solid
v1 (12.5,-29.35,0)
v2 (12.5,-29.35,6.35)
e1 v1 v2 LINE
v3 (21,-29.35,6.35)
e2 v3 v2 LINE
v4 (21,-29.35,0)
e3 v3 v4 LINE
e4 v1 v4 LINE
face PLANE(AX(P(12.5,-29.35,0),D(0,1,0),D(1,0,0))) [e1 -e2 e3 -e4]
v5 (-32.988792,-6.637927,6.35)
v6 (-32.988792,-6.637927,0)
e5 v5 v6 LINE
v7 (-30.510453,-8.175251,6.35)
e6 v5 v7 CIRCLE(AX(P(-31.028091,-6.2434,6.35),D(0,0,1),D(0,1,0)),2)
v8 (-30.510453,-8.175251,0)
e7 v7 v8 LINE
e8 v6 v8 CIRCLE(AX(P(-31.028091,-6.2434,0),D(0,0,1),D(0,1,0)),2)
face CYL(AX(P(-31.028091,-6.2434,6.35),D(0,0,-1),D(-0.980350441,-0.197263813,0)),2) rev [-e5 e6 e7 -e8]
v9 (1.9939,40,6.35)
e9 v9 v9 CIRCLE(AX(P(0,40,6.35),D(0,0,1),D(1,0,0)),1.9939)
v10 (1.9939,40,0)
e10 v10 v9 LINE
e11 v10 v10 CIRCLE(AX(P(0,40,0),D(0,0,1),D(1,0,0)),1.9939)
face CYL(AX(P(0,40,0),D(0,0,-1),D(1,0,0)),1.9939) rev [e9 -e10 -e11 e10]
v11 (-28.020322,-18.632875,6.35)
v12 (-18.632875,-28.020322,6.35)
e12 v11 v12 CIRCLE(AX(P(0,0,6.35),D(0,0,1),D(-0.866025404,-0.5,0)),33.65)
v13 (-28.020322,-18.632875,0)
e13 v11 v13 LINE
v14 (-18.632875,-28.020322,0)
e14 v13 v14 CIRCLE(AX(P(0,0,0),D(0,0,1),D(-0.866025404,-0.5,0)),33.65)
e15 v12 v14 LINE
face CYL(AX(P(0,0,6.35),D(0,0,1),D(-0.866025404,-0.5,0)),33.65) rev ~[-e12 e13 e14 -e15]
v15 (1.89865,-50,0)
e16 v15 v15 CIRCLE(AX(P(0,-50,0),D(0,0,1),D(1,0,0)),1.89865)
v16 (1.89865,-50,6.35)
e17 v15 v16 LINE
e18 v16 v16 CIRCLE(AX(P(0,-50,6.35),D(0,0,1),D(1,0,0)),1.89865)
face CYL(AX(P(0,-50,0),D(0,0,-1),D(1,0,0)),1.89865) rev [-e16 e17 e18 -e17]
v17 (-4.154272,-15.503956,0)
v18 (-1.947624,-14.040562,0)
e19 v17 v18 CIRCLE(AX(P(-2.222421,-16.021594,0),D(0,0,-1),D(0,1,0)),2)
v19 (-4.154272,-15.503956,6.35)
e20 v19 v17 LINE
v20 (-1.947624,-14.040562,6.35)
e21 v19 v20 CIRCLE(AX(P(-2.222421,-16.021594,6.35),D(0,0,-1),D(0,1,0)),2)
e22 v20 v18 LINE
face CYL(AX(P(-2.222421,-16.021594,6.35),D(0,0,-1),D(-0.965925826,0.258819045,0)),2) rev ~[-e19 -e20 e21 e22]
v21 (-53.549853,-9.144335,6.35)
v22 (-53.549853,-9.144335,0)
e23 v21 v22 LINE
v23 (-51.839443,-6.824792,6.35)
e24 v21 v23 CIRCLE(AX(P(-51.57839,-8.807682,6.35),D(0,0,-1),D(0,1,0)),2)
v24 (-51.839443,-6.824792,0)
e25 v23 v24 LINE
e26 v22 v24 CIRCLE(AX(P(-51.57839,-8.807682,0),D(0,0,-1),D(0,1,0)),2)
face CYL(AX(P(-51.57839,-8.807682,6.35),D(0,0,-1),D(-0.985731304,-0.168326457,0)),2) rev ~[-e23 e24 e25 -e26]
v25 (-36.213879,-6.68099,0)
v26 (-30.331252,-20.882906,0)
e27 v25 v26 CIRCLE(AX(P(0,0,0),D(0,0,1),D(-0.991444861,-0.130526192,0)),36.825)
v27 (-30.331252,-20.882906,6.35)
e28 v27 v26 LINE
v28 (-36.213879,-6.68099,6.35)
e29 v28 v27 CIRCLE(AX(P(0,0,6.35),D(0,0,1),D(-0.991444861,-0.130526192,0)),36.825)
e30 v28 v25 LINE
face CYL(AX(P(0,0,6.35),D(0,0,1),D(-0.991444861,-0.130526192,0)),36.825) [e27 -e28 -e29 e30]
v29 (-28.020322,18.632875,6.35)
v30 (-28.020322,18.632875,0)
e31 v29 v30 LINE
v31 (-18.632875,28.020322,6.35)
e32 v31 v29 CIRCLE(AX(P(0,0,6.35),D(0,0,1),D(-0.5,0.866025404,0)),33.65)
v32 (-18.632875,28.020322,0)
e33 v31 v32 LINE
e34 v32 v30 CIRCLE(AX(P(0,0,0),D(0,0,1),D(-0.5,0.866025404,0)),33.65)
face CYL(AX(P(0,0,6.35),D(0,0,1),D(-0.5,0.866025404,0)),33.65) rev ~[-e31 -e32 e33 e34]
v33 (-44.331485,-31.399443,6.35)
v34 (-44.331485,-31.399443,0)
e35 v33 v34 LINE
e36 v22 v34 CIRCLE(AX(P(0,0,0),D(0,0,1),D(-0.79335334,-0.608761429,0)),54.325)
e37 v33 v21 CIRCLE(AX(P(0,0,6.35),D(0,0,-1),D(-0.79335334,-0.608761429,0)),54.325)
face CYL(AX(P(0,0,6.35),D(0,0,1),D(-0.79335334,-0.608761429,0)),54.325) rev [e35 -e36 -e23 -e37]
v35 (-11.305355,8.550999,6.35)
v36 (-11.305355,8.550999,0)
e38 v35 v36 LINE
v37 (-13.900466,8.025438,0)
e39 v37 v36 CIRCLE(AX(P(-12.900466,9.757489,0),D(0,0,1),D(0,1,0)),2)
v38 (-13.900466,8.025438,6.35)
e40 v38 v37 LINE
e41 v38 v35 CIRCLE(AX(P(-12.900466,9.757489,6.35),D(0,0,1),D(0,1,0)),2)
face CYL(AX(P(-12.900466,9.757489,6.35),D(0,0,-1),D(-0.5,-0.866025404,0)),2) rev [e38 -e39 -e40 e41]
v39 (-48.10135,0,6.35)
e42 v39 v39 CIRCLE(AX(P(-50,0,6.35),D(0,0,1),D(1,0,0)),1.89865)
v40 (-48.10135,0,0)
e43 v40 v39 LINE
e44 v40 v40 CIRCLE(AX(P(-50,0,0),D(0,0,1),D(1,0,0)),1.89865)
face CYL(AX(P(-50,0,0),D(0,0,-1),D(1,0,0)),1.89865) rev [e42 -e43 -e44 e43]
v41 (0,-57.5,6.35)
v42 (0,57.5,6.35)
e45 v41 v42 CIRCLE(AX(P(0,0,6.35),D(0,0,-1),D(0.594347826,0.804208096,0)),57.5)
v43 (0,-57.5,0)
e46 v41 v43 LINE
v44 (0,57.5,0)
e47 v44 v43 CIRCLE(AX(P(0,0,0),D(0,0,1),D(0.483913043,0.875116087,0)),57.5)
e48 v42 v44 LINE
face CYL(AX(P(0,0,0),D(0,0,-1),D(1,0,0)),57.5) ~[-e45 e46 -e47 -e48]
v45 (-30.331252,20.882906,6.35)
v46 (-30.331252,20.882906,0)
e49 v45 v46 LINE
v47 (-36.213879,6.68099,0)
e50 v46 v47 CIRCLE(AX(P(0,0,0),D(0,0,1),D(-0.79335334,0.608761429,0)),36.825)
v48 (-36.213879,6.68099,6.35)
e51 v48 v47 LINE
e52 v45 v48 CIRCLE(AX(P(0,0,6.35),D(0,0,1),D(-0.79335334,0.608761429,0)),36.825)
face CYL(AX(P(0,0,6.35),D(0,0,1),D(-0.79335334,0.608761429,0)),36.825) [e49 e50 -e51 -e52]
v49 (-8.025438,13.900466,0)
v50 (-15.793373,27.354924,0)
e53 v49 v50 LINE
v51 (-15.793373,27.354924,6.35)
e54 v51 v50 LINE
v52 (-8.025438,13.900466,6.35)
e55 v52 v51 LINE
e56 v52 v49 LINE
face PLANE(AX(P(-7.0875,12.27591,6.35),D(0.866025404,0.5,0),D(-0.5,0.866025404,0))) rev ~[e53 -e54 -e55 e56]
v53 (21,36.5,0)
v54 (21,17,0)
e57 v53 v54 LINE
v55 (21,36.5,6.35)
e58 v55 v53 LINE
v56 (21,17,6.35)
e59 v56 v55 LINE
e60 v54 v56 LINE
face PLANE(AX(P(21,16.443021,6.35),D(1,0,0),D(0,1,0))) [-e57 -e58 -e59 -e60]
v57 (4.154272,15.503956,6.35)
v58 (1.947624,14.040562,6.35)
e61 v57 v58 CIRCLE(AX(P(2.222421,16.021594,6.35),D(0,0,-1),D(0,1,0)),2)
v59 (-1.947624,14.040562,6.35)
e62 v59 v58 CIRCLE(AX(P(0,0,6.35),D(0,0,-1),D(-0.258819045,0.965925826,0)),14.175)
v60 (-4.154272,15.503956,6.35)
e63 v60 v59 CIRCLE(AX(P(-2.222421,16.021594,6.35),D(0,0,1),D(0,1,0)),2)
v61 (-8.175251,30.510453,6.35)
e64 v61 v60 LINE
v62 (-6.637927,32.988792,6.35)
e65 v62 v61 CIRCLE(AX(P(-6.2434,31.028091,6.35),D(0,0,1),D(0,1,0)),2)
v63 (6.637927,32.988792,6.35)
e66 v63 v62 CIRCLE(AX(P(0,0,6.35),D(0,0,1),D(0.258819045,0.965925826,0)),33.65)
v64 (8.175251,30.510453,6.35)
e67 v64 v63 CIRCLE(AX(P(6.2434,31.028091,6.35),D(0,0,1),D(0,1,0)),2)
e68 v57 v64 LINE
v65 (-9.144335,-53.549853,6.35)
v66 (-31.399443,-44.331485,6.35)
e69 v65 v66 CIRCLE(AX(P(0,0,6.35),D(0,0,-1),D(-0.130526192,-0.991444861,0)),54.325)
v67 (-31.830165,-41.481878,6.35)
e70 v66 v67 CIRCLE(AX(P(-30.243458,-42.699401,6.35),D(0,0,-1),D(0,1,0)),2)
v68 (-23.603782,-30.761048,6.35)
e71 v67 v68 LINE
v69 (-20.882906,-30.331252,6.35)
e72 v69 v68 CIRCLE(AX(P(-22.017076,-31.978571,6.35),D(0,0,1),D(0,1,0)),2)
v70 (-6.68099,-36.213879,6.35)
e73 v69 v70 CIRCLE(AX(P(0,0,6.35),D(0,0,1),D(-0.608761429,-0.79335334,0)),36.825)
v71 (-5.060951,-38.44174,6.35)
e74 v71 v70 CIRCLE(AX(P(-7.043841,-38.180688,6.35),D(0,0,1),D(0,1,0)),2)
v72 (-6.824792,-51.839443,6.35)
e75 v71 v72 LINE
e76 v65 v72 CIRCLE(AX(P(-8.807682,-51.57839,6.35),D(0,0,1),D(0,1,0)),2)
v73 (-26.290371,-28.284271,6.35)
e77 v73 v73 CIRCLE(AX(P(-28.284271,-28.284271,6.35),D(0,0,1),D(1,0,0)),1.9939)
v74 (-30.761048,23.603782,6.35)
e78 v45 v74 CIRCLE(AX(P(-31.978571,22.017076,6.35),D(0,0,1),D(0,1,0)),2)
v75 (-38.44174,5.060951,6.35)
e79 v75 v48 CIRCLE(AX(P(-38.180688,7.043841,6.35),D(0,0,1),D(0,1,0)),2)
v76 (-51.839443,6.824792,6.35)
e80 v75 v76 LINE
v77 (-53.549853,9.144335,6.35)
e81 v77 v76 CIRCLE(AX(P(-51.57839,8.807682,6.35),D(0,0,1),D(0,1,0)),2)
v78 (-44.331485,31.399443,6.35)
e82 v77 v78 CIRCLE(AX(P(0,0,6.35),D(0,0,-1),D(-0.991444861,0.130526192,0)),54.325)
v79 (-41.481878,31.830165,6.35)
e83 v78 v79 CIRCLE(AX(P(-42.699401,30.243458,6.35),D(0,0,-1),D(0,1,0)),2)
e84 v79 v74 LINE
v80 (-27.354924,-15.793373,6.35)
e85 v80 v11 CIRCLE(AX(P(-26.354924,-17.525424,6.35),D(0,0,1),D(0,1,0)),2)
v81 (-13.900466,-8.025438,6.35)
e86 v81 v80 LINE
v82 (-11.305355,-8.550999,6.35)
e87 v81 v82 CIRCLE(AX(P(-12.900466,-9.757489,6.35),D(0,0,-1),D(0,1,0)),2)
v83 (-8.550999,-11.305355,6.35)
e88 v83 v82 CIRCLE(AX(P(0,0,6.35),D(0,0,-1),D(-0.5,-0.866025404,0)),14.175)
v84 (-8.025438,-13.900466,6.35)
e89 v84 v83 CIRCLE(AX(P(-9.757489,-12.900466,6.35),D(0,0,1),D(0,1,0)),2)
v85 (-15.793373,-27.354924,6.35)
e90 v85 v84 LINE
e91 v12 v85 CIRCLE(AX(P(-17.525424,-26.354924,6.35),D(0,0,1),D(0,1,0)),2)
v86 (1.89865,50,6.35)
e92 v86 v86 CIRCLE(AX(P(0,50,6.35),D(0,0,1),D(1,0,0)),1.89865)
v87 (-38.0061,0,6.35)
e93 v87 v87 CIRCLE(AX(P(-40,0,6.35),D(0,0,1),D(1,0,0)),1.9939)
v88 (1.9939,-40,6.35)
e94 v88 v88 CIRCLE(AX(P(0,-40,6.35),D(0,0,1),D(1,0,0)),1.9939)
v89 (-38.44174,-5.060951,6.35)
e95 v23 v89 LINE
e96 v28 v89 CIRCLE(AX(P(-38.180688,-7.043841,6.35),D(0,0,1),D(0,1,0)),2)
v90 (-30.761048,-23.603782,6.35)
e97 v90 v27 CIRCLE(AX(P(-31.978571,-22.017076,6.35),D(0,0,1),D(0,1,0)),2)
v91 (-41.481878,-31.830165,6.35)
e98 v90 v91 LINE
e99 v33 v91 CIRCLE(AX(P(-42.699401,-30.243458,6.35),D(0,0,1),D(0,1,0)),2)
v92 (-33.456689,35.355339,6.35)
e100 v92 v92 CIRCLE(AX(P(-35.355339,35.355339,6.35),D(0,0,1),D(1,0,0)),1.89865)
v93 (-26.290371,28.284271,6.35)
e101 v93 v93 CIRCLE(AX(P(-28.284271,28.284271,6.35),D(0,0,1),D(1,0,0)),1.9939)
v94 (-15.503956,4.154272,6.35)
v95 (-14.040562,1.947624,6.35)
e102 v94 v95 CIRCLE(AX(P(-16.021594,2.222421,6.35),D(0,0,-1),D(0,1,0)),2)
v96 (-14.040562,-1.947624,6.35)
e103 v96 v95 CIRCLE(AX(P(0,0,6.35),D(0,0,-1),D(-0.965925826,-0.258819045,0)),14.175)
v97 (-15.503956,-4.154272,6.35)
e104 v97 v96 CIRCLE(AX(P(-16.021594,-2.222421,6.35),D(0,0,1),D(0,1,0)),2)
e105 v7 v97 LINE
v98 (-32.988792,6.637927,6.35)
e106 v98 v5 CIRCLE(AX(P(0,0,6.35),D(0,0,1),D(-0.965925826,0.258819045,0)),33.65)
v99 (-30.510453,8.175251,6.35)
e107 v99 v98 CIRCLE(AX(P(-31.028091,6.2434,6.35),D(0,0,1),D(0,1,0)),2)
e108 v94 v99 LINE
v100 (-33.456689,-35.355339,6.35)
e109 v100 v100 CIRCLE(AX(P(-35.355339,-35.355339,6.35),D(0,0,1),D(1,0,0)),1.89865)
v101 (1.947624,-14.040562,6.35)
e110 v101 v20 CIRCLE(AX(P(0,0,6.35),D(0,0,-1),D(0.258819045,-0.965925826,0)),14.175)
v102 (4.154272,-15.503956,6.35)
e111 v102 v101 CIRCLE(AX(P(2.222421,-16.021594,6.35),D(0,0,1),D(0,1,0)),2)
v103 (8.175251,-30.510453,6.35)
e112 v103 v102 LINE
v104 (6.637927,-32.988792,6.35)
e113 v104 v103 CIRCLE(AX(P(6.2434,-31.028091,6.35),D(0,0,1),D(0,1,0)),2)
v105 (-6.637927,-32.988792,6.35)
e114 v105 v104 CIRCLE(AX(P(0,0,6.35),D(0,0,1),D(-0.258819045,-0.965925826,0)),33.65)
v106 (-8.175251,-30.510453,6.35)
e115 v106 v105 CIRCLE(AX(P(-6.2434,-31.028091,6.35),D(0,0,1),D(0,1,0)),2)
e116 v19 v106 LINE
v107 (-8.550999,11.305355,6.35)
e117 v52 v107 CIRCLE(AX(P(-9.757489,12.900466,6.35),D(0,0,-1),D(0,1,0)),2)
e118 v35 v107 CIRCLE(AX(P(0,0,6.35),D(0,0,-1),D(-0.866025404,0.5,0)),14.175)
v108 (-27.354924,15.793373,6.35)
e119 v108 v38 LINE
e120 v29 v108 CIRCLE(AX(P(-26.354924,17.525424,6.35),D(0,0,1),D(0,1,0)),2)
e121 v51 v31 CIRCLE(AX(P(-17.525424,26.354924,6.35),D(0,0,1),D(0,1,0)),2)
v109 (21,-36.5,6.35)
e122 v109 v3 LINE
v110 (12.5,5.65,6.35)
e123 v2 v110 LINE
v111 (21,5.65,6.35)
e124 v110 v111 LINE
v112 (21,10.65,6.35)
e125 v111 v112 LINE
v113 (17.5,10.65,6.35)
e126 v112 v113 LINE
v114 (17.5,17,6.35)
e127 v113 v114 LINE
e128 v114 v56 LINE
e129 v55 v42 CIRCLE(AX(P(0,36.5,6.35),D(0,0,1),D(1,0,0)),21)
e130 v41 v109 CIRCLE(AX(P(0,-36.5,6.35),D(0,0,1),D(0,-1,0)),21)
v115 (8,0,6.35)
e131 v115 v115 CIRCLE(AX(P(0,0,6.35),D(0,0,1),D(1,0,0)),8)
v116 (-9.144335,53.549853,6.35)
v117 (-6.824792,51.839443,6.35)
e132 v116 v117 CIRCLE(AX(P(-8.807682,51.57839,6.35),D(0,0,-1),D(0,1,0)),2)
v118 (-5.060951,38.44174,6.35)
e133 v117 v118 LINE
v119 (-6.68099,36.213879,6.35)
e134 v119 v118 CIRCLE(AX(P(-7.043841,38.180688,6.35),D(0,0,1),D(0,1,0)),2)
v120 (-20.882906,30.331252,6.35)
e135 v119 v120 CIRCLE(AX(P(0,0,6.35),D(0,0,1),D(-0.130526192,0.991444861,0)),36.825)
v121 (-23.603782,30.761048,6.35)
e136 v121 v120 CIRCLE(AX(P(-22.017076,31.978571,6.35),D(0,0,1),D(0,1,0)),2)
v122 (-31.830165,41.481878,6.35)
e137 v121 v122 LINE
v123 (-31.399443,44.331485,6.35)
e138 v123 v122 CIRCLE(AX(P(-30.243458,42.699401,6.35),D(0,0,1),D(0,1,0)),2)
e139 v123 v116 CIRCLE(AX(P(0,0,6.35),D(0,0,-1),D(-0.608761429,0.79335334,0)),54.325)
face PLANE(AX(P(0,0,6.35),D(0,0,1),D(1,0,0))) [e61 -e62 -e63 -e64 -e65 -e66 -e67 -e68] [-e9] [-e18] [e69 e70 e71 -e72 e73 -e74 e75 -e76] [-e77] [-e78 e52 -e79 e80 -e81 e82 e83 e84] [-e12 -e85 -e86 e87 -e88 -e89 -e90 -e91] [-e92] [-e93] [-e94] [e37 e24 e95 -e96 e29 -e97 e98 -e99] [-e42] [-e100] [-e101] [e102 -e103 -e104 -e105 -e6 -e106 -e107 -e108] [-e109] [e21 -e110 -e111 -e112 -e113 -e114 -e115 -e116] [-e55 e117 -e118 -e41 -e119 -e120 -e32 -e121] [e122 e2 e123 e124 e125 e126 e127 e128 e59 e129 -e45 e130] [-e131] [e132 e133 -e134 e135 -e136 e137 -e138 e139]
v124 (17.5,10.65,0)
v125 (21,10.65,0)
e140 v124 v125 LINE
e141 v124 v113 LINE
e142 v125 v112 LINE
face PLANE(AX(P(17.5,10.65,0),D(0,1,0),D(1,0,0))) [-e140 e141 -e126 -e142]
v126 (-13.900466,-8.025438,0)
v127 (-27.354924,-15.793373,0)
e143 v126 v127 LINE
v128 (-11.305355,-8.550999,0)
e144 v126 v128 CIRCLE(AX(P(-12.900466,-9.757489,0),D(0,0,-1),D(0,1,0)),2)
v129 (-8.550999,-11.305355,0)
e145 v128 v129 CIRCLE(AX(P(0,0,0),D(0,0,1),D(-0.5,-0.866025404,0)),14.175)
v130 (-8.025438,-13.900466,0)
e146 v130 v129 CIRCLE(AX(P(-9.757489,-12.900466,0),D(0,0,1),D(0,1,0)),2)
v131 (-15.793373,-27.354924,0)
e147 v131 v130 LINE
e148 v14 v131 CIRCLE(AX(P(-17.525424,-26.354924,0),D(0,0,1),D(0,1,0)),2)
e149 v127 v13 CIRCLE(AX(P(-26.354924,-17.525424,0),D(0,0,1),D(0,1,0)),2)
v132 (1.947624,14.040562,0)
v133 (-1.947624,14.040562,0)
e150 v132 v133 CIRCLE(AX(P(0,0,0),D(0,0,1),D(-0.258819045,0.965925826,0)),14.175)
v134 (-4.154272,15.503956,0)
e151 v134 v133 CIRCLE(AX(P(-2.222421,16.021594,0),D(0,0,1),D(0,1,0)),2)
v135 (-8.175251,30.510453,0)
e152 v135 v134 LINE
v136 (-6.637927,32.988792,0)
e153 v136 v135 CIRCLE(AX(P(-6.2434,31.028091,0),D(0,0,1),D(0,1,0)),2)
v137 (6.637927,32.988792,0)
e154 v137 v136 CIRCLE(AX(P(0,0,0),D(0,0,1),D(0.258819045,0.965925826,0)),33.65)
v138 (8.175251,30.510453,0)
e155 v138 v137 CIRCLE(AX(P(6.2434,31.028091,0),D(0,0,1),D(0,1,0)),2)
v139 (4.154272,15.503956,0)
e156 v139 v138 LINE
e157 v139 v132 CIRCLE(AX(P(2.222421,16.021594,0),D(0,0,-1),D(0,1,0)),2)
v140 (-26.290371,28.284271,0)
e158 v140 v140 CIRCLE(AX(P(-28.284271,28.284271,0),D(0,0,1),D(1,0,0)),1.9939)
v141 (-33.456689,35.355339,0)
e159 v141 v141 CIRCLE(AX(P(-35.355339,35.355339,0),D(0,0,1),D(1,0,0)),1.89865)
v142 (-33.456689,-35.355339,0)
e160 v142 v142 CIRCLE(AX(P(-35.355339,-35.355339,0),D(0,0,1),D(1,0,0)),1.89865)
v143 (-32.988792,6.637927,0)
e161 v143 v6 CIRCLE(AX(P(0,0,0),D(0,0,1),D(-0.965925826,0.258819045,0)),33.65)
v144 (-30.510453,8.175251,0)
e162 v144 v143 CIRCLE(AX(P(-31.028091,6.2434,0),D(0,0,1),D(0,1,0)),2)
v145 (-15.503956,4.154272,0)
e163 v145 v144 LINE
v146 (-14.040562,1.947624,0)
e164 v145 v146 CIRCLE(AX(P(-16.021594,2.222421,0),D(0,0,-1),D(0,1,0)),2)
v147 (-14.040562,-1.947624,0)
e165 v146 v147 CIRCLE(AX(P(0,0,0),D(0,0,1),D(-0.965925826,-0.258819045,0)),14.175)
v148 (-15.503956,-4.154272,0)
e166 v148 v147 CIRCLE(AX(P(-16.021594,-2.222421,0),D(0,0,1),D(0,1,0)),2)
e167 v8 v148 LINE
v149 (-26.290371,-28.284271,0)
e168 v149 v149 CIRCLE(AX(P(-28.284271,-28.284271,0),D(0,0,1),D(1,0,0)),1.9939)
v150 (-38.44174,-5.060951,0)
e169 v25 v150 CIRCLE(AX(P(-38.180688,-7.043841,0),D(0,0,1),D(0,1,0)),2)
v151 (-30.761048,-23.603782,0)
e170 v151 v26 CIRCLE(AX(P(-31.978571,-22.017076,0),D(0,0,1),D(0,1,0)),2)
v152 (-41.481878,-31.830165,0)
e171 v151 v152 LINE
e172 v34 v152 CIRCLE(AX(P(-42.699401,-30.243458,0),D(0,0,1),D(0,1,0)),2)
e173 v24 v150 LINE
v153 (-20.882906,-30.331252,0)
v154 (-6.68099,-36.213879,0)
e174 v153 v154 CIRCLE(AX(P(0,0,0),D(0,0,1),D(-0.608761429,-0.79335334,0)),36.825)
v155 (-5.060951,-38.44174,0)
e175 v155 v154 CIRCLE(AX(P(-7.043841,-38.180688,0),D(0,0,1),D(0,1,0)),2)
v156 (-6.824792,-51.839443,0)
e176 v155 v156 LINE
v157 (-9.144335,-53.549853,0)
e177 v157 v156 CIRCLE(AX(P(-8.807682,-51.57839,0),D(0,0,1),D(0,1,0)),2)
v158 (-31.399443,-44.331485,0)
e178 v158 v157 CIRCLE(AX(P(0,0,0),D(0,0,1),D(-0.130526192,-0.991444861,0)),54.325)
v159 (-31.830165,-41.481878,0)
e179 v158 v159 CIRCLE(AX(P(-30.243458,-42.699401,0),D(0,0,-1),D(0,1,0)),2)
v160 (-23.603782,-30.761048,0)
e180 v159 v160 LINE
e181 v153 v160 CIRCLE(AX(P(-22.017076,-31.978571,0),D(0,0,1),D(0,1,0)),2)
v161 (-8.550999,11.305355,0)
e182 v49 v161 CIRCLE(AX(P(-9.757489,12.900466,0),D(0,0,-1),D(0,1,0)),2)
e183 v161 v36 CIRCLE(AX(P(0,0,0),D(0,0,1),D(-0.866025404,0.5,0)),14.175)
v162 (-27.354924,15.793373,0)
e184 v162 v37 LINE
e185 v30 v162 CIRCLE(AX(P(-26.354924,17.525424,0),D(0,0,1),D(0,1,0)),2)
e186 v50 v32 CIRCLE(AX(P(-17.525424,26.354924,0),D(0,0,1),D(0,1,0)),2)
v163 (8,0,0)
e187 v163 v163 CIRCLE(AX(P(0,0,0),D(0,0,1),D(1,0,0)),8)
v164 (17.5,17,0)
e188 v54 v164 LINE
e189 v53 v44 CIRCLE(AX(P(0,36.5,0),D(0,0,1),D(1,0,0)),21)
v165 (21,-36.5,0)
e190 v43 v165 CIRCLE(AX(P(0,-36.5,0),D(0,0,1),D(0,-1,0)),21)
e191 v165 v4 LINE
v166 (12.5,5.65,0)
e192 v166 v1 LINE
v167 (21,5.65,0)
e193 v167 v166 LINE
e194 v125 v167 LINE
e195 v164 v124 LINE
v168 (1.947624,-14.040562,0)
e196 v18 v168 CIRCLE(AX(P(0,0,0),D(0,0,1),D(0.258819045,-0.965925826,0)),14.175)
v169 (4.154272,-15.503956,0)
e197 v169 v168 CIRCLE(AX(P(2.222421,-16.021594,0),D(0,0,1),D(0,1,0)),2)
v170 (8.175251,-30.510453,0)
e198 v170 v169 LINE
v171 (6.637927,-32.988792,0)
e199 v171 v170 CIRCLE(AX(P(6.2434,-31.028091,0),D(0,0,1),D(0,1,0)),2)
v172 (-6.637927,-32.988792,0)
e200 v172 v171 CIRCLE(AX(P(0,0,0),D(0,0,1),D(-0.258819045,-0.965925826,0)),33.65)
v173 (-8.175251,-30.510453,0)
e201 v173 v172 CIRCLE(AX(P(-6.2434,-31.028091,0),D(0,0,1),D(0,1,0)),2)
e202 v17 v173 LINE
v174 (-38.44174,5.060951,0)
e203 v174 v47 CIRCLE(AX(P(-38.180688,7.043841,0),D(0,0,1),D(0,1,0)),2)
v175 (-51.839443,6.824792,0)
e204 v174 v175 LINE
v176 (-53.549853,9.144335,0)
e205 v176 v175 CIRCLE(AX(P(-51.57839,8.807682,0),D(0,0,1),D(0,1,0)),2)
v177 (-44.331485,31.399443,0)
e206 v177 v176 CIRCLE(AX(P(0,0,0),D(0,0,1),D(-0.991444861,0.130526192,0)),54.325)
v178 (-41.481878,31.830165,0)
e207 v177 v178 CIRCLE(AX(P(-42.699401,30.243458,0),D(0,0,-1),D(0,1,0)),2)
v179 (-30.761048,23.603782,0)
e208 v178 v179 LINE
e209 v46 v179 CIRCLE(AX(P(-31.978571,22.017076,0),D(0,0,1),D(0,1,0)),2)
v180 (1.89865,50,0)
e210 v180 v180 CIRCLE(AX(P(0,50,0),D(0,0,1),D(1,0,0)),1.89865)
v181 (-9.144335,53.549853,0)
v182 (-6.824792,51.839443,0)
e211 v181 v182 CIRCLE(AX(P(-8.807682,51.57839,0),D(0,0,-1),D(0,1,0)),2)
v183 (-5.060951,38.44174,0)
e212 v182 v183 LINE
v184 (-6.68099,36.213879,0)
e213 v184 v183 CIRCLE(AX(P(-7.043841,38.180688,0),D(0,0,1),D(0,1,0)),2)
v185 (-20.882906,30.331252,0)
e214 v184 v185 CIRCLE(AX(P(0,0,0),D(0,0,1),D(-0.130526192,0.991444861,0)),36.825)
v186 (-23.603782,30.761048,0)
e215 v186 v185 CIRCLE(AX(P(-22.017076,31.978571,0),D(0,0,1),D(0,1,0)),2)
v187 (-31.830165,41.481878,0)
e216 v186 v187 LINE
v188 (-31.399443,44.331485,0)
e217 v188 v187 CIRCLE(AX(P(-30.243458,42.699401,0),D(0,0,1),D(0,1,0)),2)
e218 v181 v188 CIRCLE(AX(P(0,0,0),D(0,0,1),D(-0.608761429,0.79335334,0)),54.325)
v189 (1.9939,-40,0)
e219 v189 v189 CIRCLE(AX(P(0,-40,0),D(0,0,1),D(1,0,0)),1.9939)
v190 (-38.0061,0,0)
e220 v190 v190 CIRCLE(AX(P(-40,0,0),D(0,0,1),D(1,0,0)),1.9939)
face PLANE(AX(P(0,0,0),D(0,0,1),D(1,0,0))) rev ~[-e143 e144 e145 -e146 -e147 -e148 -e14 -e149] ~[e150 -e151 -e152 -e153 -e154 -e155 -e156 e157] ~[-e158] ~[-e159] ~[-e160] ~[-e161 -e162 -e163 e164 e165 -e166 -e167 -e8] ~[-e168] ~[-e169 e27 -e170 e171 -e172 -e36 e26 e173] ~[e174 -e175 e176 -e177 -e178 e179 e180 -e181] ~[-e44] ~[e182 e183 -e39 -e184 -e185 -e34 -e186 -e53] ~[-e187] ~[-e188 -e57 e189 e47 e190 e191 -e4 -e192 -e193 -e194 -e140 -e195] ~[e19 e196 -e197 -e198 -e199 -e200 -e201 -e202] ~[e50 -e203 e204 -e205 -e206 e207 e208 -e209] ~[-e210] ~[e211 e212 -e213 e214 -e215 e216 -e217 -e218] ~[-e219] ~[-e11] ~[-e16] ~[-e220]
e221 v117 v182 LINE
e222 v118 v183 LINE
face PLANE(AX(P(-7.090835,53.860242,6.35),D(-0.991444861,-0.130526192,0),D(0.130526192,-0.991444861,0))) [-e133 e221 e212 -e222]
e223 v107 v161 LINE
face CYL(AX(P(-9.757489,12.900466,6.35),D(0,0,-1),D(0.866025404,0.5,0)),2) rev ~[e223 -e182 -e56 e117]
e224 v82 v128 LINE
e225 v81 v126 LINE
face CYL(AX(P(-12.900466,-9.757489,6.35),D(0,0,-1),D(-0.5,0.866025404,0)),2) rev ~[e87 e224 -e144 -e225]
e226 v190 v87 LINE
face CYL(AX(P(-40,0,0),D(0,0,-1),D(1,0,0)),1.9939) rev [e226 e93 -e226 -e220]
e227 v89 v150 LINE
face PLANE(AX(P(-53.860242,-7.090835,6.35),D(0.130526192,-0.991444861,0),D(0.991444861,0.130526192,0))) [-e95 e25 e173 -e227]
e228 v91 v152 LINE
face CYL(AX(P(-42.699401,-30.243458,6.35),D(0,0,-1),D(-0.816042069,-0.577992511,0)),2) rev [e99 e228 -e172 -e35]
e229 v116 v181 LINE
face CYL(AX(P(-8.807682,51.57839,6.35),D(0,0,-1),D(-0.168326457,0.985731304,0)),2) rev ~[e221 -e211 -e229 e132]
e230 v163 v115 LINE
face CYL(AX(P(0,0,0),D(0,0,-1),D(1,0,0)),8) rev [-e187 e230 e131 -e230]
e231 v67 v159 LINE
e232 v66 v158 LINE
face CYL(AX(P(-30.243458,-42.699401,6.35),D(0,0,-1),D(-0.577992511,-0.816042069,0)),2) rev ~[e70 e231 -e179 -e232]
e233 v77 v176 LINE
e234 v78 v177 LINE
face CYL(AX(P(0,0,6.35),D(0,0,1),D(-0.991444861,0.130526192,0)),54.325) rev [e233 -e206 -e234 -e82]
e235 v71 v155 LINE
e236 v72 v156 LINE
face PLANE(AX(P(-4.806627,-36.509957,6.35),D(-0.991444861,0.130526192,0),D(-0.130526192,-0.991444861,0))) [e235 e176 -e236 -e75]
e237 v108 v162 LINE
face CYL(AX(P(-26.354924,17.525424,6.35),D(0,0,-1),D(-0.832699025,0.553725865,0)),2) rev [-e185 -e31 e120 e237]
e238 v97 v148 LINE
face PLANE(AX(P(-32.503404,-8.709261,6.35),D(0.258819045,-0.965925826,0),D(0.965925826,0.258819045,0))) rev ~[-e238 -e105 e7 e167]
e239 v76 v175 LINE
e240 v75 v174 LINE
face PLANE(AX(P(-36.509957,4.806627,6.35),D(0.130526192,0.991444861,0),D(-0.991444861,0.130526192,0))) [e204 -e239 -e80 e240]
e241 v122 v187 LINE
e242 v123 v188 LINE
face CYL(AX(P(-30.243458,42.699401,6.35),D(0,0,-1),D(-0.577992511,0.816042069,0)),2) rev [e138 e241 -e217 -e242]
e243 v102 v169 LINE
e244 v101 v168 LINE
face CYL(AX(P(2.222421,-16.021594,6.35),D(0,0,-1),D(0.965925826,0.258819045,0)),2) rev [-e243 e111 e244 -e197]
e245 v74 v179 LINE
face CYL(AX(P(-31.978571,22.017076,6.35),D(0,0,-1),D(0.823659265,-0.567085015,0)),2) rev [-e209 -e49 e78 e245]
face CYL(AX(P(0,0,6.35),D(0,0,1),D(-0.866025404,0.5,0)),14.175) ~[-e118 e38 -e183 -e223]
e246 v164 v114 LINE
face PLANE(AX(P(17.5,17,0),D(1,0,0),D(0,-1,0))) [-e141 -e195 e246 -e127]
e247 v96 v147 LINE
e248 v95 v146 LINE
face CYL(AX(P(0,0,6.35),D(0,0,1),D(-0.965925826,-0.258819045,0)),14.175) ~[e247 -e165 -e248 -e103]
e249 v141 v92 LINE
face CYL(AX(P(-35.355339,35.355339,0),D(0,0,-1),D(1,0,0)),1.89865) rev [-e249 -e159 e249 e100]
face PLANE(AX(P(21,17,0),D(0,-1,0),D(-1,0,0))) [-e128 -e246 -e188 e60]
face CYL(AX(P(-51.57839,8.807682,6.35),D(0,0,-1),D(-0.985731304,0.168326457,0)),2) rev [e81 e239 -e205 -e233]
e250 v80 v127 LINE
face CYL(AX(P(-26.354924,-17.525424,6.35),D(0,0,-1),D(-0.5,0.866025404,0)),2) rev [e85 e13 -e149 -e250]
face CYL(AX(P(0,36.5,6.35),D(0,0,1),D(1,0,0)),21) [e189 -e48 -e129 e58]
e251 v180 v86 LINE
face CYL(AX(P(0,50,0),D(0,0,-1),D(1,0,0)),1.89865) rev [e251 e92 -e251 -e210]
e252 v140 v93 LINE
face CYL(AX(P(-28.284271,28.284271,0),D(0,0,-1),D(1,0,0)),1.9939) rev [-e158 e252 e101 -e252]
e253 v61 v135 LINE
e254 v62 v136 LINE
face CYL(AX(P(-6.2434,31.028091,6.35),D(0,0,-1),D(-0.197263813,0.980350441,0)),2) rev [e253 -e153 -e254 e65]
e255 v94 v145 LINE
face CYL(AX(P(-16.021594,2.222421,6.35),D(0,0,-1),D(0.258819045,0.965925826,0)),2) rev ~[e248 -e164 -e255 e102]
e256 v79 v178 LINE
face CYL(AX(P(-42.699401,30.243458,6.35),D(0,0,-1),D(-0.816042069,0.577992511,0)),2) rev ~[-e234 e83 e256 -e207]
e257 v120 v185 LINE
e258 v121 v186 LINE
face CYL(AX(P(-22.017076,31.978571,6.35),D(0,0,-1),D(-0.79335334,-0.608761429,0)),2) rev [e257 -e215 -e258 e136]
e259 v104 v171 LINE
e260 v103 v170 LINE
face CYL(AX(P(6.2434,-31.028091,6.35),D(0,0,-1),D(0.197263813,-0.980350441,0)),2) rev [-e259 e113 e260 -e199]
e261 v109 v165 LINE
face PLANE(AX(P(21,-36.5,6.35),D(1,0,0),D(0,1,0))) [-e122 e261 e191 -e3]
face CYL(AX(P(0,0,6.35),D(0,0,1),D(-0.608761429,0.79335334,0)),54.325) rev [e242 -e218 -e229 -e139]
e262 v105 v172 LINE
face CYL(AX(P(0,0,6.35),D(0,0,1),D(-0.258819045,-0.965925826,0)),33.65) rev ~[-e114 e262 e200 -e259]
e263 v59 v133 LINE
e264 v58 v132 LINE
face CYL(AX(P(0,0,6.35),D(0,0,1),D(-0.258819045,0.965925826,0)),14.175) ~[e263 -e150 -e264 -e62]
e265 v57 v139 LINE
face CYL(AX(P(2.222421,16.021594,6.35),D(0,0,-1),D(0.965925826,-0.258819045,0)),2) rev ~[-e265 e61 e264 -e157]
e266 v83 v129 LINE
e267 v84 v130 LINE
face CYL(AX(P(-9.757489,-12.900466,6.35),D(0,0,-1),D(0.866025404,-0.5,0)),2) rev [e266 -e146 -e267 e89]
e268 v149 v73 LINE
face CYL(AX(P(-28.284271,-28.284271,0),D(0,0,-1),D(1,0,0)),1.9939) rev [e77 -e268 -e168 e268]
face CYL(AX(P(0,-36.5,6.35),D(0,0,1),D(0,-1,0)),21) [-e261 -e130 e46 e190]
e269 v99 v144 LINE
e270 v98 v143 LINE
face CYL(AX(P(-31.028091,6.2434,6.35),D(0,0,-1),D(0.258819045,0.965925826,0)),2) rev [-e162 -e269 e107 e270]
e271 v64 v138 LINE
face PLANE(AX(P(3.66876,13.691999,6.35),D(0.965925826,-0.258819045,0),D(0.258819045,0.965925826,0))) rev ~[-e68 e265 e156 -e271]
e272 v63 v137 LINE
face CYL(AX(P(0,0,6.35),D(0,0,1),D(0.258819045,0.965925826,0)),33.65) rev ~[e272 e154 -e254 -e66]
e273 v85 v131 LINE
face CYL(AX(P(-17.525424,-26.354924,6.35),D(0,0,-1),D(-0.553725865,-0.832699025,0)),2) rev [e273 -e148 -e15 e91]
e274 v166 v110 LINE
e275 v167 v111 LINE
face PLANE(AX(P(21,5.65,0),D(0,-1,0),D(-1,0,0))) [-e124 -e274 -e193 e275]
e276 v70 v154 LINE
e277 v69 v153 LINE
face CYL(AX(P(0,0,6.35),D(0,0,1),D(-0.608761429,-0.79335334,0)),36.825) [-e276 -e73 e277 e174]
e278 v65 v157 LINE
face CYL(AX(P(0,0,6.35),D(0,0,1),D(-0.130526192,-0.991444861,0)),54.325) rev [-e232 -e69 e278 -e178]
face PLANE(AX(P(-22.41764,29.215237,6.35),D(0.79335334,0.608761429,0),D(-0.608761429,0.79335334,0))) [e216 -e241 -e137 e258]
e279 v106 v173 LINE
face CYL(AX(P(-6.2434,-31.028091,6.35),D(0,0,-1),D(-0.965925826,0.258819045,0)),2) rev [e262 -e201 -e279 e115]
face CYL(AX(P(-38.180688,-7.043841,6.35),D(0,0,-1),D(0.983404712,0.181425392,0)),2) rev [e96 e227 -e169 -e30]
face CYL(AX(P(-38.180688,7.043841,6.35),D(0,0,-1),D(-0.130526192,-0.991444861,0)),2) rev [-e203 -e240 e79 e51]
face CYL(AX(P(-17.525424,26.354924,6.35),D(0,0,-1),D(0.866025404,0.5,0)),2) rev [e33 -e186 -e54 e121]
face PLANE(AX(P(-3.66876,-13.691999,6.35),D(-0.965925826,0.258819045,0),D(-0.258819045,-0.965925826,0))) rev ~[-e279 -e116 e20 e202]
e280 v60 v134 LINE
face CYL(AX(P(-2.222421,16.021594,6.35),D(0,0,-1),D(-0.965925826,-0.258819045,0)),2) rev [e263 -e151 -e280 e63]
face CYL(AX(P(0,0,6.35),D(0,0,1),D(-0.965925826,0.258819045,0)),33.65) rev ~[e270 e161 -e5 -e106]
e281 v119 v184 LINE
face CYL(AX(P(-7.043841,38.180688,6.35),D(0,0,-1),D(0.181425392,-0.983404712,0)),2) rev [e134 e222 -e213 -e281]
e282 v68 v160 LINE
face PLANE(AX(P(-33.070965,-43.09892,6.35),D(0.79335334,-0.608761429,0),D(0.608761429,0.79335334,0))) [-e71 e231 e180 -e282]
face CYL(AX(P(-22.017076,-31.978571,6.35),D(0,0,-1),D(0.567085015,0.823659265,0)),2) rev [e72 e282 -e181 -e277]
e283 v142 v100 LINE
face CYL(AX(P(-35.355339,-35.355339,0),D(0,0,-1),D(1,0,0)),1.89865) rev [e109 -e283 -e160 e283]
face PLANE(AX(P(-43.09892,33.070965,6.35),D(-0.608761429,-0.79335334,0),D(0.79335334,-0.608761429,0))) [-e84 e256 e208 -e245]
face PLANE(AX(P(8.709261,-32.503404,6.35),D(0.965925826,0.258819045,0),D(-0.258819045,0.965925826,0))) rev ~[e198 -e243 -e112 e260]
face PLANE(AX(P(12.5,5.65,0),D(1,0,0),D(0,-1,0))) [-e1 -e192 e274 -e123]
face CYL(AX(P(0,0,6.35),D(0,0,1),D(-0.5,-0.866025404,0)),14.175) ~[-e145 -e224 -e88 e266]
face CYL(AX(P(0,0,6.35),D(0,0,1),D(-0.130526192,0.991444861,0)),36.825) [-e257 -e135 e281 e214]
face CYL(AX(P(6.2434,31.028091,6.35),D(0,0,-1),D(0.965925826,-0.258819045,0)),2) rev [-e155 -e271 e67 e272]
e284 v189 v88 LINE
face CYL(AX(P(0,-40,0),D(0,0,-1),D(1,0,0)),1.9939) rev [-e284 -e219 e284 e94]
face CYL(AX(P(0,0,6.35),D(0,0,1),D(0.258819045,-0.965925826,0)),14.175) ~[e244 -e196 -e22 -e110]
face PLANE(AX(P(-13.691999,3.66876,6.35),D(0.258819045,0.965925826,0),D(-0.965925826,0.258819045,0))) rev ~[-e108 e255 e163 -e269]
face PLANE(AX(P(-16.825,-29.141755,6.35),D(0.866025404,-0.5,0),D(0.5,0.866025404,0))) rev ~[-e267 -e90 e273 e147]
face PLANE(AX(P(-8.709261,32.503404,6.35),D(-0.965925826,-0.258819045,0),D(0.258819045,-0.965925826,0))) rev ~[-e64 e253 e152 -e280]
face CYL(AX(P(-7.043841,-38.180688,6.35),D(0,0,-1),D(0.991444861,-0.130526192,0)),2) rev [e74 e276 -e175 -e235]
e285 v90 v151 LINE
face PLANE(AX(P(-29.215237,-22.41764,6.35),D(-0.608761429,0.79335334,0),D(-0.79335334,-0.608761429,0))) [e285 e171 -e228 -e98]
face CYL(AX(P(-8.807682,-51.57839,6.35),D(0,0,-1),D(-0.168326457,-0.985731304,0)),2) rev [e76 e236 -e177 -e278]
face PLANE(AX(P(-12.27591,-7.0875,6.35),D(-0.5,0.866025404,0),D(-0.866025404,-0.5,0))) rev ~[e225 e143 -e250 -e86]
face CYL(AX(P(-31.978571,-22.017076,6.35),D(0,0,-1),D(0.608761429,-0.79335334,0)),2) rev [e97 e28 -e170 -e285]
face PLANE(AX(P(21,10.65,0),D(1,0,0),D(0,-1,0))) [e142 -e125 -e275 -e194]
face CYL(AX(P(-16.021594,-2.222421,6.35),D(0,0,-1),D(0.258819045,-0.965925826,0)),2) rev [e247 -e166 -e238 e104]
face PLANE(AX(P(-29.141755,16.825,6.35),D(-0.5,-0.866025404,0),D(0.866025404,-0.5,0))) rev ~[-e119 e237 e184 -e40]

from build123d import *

# Parameters (mm, degrees)
SKETCH1_R                = 57.5
SKETCH1_R_2              = 1.89865
SKETCH1_R_3              = 1.9939
SKETCH1_R_4              = 8
BOSS_EXTRUDE1_DEPTH      = 6.35
CUT_EXTRUDE1_DEPTH       = 82.564836173
SKETCH3_W                = 6.35
SKETCH3_H                = 80
CUT_EXTRUDE3_DEPTH       = 82.564836173
CUT_EXTRUDE4_DEPTH       = 82.564836173
CUT_EXTRUDE6_DEPTH       = 82.564836173
FILLET1_R                = 2
CIRPATTERN1_COUNT        = 8
FILLET1_OF_CIRPATTERN1_R = 2
CUT_EXTRUDE7_DEPTH       = 10
FILLET2_R                = 2
CIRPATTERN2_COUNT        = 8
FILLET2_OF_CIRPATTERN2_R = 2


with BuildPart() as part:
    # Sketch1 → Boss-Extrude1 (new body)
    with BuildSketch(Plane.XY):
        Circle(SKETCH1_R)
        with Locations((45.315389352, 21.130913087)):
            Circle(SKETCH1_R_2, mode=Mode.SUBTRACT)
        with Locations((46.467376211, -18.460307366)):
            Circle(SKETCH1_R_3, mode=Mode.SUBTRACT)
        Circle(SKETCH1_R_4, mode=Mode.SUBTRACT)
        with Locations((49.978847504, 1.454235937)):
            Circle(SKETCH1_R_3, mode=Mode.SUBTRACT)
        with Locations((0, -40)):
            Circle(SKETCH1_R_3, mode=Mode.SUBTRACT)
        with Locations((0, -50)):
            Circle(SKETCH1_R_2, mode=Mode.SUBTRACT)
        with Locations((-28.284271247, -28.284271247)):
            Circle(SKETCH1_R_3, mode=Mode.SUBTRACT)
        with Locations((-35.355339059, -35.355339059)):
            Circle(SKETCH1_R_2, mode=Mode.SUBTRACT)
        with Locations((-40, 0)):
            Circle(SKETCH1_R_3, mode=Mode.SUBTRACT)
        with Locations((-50, 0)):
            Circle(SKETCH1_R_2, mode=Mode.SUBTRACT)
        with Locations((-28.284271247, 28.284271247)):
            Circle(SKETCH1_R_3, mode=Mode.SUBTRACT)
        with Locations((-35.355339059, 35.355339059)):
            Circle(SKETCH1_R_2, mode=Mode.SUBTRACT)
        with Locations((0, 40)):
            Circle(SKETCH1_R_3, mode=Mode.SUBTRACT)
        with Locations((0, 50)):
            Circle(SKETCH1_R_2, mode=Mode.SUBTRACT)
        with Locations((35.355339059, -35.355339059)):
            Circle(SKETCH1_R_2, mode=Mode.SUBTRACT)
    extrude(amount=BOSS_EXTRUDE1_DEPTH)

    # Sketch2 → Cut-Extrude1 (cut, through all)
    with BuildSketch(Plane.XY):
        Polygon((12.5, -29.35), (41, -29.35), (41, 10.65), (44.5, 10.65), (44.5, 17), (41, 17), (41, 32), (21, 32), (21, 17), (17.5, 17), (17.5, 10.65), (21, 10.65), (21, 5.65), (12.5, 5.65), align=None)
    extrude(amount=CUT_EXTRUDE1_DEPTH, mode=Mode.SUBTRACT)

    # Sketch3 → Cut-Extrude3 (cut, through all)
    with BuildSketch(Plane.XY.offset(6.35)):
        with Locations((31, 32)):
            Rectangle(SKETCH3_W, SKETCH3_H)
    extrude(amount=-CUT_EXTRUDE3_DEPTH, mode=Mode.SUBTRACT)

    # Sketch4 → Cut-Extrude4 (cut, through all)
    with BuildSketch(Plane.XY.offset(6.35)):
        with BuildLine():
            Line((21, -36.5), (21, -16.443021443))
            Line((21, -16.443021443), (24.175, -16.470277755))
            Line((24.175, -16.470277755), (24.175, -57.5))
            Line((24.175, -57.5), (0, -57.5))
            ThreePointArc((0, -57.5), (14.849242405, -51.349242405), (21, -36.5))
        make_face()
        with BuildLine():
            Line((0, 57.5), (24.175, 57.5))
            Line((24.175, 57.5), (24.175, 16.470277755))
            Line((24.175, 16.470277755), (21, 16.443021443))
            Line((21, 16.443021443), (21, 36.5))
            ThreePointArc((21, 36.5), (14.849242405, 51.349242405), (0, 57.5))
        make_face()
    extrude(amount=-CUT_EXTRUDE4_DEPTH, mode=Mode.SUBTRACT)


with BuildPart() as cut_extrude4_kept_piece:
    # of the separate pieces the step leaves, the one the design keeps (cut_extrude4_pieces_kept)
    add(part.part.solids().sort_by_distance((0, 57.5, 0))[0])

    # Sketch6 → Cut-Extrude6 (cut, through all)
    with BuildSketch(Plane.XY.offset(6.35)):
        with BuildLine():
            Line((-13.691998588, 3.668759964), (-32.503404055, 8.709260868))
            ThreePointArc((-32.503404055, 8.709260868), (-33.65, 0), (-32.503404055, -8.709260868))
            Line((-32.503404055, -8.709260868), (-13.691998588, -3.668759964))
            ThreePointArc((-13.691998588, -3.668759964), (-14.175, 0), (-13.691998588, 3.668759964))
        make_face()
    cut_extrude6 = extrude(amount=-CUT_EXTRUDE6_DEPTH, mode=Mode.SUBTRACT)

    # Fillet1
    fillet1_edges = [cut_extrude4_kept_piece.edges().sort_by_distance(p)[0] for p in [
        (-13.691998588, 3.668759964, 3.175),
        (-13.691998588, -3.668759964, 3.175),
        (-32.503404055, -8.709260868, 3.175),
        (-32.503404055, 8.709260868, 3.175),
    ]]
    fillet(fillet1_edges, radius=FILLET1_R)

    # CirPattern1: Cut-Extrude6 ×8 about axis, 3 skipped
    cirpattern1_axis = Axis((0, 0, 0), (0, 0, -1))
    add([cut_extrude6.rotate(cirpattern1_axis, i * 360 / CIRPATTERN1_COUNT) for i in range(1, CIRPATTERN1_COUNT) if i not in (3, 4, 5)], mode=Mode.SUBTRACT)

    # Fillet1 of CirPattern1
    fillet1_of_cirpattern1_edges = [cut_extrude4_kept_piece.edges().sort_by_distance(p)[0] for p in [
        (-7.0875, 12.275910099, 3.175),
        (-12.275910099, 7.0875, 3.175),
        (-29.141754837, 16.825, 3.175),
        (-16.825, 29.141754837, 3.175),
        (3.668759964, 13.691998588, 3.175),
        (-3.668759964, 13.691998588, 3.175),
        (-8.709260868, 32.503404055, 3.175),
        (8.709260868, 32.503404055, 3.175),
        (-3.668759964, -13.691998588, 3.175),
        (3.668759964, -13.691998588, 3.175),
        (8.709260868, -32.503404055, 3.175),
        (-8.709260868, -32.503404055, 3.175),
        (-12.275910099, -7.0875, 3.175),
        (-7.0875, -12.275910099, 3.175),
        (-16.825, -29.141754837, 3.175),
        (-29.141754837, -16.825, 3.175),
    ]]
    fillet(fillet1_of_cirpattern1_edges, radius=FILLET1_OF_CIRPATTERN1_R)

    # Sketch7 → Cut-Extrude7 (cut)
    with BuildSketch(Plane.XY.offset(6.35)):
        with BuildLine():
            Line((-43.098920211, 33.070964631), (-29.215236756, 22.417639623))
            ThreePointArc((-29.215236756, 22.417639623), (-34.021863785, 14.092317397), (-36.50995702, 4.806627029))
            Line((-36.50995702, 4.806627029), (-53.860242094, 7.090835392))
            ThreePointArc((-53.860242094, 7.090835392), (-50.189755604, 20.789277463), (-43.098920211, 33.070964631))
        make_face()
    cut_extrude7 = extrude(amount=-CUT_EXTRUDE7_DEPTH, mode=Mode.SUBTRACT)

    # Fillet2
    fillet2_edges = [cut_extrude4_kept_piece.edges().sort_by_distance(p)[0] for p in [
        (-29.215236756, 22.417639623, 3.175),
        (-36.50995702, 4.806627029, 3.175),
        (-53.860242094, 7.090835392, 3.175),
        (-43.098920211, 33.070964631, 3.175),
    ]]
    fillet(fillet2_edges, radius=FILLET2_R)

    # CirPattern2: Cut-Extrude7 ×8 about axis, 4 skipped
    cirpattern2_axis = Axis((0, 0, 0), (0, 0, -1))
    add([cut_extrude7.rotate(cirpattern2_axis, i * 360 / CIRPATTERN2_COUNT) for i in range(1, CIRPATTERN2_COUNT) if i not in (2, 3, 4, 5)], mode=Mode.SUBTRACT)

    # Fillet2 of CirPattern2
    fillet2_of_cirpattern2_edges = [cut_extrude4_kept_piece.edges().sort_by_distance(p)[0] for p in [
        (-4.806627029, 36.50995702, 3.175),
        (-22.417639623, 29.215236756, 3.175),
        (-33.070964631, 43.098920211, 3.175),
        (-7.090835392, 53.860242094, 3.175),
        (-22.417639623, -29.215236756, 3.175),
        (-4.806627029, -36.50995702, 3.175),
        (-7.090835392, -53.860242094, 3.175),
        (-33.070964631, -43.098920211, 3.175),
        (-36.50995702, -4.806627029, 3.175),
        (-29.215236756, -22.417639623, 3.175),
        (-43.098920211, -33.070964631, 3.175),
        (-53.860242094, -7.090835392, 3.175),
    ]]
    fillet(fillet2_of_cirpattern2_edges, radius=FILLET2_OF_CIRPATTERN2_R)


solid = cut_extrude4_kept_piece.part
